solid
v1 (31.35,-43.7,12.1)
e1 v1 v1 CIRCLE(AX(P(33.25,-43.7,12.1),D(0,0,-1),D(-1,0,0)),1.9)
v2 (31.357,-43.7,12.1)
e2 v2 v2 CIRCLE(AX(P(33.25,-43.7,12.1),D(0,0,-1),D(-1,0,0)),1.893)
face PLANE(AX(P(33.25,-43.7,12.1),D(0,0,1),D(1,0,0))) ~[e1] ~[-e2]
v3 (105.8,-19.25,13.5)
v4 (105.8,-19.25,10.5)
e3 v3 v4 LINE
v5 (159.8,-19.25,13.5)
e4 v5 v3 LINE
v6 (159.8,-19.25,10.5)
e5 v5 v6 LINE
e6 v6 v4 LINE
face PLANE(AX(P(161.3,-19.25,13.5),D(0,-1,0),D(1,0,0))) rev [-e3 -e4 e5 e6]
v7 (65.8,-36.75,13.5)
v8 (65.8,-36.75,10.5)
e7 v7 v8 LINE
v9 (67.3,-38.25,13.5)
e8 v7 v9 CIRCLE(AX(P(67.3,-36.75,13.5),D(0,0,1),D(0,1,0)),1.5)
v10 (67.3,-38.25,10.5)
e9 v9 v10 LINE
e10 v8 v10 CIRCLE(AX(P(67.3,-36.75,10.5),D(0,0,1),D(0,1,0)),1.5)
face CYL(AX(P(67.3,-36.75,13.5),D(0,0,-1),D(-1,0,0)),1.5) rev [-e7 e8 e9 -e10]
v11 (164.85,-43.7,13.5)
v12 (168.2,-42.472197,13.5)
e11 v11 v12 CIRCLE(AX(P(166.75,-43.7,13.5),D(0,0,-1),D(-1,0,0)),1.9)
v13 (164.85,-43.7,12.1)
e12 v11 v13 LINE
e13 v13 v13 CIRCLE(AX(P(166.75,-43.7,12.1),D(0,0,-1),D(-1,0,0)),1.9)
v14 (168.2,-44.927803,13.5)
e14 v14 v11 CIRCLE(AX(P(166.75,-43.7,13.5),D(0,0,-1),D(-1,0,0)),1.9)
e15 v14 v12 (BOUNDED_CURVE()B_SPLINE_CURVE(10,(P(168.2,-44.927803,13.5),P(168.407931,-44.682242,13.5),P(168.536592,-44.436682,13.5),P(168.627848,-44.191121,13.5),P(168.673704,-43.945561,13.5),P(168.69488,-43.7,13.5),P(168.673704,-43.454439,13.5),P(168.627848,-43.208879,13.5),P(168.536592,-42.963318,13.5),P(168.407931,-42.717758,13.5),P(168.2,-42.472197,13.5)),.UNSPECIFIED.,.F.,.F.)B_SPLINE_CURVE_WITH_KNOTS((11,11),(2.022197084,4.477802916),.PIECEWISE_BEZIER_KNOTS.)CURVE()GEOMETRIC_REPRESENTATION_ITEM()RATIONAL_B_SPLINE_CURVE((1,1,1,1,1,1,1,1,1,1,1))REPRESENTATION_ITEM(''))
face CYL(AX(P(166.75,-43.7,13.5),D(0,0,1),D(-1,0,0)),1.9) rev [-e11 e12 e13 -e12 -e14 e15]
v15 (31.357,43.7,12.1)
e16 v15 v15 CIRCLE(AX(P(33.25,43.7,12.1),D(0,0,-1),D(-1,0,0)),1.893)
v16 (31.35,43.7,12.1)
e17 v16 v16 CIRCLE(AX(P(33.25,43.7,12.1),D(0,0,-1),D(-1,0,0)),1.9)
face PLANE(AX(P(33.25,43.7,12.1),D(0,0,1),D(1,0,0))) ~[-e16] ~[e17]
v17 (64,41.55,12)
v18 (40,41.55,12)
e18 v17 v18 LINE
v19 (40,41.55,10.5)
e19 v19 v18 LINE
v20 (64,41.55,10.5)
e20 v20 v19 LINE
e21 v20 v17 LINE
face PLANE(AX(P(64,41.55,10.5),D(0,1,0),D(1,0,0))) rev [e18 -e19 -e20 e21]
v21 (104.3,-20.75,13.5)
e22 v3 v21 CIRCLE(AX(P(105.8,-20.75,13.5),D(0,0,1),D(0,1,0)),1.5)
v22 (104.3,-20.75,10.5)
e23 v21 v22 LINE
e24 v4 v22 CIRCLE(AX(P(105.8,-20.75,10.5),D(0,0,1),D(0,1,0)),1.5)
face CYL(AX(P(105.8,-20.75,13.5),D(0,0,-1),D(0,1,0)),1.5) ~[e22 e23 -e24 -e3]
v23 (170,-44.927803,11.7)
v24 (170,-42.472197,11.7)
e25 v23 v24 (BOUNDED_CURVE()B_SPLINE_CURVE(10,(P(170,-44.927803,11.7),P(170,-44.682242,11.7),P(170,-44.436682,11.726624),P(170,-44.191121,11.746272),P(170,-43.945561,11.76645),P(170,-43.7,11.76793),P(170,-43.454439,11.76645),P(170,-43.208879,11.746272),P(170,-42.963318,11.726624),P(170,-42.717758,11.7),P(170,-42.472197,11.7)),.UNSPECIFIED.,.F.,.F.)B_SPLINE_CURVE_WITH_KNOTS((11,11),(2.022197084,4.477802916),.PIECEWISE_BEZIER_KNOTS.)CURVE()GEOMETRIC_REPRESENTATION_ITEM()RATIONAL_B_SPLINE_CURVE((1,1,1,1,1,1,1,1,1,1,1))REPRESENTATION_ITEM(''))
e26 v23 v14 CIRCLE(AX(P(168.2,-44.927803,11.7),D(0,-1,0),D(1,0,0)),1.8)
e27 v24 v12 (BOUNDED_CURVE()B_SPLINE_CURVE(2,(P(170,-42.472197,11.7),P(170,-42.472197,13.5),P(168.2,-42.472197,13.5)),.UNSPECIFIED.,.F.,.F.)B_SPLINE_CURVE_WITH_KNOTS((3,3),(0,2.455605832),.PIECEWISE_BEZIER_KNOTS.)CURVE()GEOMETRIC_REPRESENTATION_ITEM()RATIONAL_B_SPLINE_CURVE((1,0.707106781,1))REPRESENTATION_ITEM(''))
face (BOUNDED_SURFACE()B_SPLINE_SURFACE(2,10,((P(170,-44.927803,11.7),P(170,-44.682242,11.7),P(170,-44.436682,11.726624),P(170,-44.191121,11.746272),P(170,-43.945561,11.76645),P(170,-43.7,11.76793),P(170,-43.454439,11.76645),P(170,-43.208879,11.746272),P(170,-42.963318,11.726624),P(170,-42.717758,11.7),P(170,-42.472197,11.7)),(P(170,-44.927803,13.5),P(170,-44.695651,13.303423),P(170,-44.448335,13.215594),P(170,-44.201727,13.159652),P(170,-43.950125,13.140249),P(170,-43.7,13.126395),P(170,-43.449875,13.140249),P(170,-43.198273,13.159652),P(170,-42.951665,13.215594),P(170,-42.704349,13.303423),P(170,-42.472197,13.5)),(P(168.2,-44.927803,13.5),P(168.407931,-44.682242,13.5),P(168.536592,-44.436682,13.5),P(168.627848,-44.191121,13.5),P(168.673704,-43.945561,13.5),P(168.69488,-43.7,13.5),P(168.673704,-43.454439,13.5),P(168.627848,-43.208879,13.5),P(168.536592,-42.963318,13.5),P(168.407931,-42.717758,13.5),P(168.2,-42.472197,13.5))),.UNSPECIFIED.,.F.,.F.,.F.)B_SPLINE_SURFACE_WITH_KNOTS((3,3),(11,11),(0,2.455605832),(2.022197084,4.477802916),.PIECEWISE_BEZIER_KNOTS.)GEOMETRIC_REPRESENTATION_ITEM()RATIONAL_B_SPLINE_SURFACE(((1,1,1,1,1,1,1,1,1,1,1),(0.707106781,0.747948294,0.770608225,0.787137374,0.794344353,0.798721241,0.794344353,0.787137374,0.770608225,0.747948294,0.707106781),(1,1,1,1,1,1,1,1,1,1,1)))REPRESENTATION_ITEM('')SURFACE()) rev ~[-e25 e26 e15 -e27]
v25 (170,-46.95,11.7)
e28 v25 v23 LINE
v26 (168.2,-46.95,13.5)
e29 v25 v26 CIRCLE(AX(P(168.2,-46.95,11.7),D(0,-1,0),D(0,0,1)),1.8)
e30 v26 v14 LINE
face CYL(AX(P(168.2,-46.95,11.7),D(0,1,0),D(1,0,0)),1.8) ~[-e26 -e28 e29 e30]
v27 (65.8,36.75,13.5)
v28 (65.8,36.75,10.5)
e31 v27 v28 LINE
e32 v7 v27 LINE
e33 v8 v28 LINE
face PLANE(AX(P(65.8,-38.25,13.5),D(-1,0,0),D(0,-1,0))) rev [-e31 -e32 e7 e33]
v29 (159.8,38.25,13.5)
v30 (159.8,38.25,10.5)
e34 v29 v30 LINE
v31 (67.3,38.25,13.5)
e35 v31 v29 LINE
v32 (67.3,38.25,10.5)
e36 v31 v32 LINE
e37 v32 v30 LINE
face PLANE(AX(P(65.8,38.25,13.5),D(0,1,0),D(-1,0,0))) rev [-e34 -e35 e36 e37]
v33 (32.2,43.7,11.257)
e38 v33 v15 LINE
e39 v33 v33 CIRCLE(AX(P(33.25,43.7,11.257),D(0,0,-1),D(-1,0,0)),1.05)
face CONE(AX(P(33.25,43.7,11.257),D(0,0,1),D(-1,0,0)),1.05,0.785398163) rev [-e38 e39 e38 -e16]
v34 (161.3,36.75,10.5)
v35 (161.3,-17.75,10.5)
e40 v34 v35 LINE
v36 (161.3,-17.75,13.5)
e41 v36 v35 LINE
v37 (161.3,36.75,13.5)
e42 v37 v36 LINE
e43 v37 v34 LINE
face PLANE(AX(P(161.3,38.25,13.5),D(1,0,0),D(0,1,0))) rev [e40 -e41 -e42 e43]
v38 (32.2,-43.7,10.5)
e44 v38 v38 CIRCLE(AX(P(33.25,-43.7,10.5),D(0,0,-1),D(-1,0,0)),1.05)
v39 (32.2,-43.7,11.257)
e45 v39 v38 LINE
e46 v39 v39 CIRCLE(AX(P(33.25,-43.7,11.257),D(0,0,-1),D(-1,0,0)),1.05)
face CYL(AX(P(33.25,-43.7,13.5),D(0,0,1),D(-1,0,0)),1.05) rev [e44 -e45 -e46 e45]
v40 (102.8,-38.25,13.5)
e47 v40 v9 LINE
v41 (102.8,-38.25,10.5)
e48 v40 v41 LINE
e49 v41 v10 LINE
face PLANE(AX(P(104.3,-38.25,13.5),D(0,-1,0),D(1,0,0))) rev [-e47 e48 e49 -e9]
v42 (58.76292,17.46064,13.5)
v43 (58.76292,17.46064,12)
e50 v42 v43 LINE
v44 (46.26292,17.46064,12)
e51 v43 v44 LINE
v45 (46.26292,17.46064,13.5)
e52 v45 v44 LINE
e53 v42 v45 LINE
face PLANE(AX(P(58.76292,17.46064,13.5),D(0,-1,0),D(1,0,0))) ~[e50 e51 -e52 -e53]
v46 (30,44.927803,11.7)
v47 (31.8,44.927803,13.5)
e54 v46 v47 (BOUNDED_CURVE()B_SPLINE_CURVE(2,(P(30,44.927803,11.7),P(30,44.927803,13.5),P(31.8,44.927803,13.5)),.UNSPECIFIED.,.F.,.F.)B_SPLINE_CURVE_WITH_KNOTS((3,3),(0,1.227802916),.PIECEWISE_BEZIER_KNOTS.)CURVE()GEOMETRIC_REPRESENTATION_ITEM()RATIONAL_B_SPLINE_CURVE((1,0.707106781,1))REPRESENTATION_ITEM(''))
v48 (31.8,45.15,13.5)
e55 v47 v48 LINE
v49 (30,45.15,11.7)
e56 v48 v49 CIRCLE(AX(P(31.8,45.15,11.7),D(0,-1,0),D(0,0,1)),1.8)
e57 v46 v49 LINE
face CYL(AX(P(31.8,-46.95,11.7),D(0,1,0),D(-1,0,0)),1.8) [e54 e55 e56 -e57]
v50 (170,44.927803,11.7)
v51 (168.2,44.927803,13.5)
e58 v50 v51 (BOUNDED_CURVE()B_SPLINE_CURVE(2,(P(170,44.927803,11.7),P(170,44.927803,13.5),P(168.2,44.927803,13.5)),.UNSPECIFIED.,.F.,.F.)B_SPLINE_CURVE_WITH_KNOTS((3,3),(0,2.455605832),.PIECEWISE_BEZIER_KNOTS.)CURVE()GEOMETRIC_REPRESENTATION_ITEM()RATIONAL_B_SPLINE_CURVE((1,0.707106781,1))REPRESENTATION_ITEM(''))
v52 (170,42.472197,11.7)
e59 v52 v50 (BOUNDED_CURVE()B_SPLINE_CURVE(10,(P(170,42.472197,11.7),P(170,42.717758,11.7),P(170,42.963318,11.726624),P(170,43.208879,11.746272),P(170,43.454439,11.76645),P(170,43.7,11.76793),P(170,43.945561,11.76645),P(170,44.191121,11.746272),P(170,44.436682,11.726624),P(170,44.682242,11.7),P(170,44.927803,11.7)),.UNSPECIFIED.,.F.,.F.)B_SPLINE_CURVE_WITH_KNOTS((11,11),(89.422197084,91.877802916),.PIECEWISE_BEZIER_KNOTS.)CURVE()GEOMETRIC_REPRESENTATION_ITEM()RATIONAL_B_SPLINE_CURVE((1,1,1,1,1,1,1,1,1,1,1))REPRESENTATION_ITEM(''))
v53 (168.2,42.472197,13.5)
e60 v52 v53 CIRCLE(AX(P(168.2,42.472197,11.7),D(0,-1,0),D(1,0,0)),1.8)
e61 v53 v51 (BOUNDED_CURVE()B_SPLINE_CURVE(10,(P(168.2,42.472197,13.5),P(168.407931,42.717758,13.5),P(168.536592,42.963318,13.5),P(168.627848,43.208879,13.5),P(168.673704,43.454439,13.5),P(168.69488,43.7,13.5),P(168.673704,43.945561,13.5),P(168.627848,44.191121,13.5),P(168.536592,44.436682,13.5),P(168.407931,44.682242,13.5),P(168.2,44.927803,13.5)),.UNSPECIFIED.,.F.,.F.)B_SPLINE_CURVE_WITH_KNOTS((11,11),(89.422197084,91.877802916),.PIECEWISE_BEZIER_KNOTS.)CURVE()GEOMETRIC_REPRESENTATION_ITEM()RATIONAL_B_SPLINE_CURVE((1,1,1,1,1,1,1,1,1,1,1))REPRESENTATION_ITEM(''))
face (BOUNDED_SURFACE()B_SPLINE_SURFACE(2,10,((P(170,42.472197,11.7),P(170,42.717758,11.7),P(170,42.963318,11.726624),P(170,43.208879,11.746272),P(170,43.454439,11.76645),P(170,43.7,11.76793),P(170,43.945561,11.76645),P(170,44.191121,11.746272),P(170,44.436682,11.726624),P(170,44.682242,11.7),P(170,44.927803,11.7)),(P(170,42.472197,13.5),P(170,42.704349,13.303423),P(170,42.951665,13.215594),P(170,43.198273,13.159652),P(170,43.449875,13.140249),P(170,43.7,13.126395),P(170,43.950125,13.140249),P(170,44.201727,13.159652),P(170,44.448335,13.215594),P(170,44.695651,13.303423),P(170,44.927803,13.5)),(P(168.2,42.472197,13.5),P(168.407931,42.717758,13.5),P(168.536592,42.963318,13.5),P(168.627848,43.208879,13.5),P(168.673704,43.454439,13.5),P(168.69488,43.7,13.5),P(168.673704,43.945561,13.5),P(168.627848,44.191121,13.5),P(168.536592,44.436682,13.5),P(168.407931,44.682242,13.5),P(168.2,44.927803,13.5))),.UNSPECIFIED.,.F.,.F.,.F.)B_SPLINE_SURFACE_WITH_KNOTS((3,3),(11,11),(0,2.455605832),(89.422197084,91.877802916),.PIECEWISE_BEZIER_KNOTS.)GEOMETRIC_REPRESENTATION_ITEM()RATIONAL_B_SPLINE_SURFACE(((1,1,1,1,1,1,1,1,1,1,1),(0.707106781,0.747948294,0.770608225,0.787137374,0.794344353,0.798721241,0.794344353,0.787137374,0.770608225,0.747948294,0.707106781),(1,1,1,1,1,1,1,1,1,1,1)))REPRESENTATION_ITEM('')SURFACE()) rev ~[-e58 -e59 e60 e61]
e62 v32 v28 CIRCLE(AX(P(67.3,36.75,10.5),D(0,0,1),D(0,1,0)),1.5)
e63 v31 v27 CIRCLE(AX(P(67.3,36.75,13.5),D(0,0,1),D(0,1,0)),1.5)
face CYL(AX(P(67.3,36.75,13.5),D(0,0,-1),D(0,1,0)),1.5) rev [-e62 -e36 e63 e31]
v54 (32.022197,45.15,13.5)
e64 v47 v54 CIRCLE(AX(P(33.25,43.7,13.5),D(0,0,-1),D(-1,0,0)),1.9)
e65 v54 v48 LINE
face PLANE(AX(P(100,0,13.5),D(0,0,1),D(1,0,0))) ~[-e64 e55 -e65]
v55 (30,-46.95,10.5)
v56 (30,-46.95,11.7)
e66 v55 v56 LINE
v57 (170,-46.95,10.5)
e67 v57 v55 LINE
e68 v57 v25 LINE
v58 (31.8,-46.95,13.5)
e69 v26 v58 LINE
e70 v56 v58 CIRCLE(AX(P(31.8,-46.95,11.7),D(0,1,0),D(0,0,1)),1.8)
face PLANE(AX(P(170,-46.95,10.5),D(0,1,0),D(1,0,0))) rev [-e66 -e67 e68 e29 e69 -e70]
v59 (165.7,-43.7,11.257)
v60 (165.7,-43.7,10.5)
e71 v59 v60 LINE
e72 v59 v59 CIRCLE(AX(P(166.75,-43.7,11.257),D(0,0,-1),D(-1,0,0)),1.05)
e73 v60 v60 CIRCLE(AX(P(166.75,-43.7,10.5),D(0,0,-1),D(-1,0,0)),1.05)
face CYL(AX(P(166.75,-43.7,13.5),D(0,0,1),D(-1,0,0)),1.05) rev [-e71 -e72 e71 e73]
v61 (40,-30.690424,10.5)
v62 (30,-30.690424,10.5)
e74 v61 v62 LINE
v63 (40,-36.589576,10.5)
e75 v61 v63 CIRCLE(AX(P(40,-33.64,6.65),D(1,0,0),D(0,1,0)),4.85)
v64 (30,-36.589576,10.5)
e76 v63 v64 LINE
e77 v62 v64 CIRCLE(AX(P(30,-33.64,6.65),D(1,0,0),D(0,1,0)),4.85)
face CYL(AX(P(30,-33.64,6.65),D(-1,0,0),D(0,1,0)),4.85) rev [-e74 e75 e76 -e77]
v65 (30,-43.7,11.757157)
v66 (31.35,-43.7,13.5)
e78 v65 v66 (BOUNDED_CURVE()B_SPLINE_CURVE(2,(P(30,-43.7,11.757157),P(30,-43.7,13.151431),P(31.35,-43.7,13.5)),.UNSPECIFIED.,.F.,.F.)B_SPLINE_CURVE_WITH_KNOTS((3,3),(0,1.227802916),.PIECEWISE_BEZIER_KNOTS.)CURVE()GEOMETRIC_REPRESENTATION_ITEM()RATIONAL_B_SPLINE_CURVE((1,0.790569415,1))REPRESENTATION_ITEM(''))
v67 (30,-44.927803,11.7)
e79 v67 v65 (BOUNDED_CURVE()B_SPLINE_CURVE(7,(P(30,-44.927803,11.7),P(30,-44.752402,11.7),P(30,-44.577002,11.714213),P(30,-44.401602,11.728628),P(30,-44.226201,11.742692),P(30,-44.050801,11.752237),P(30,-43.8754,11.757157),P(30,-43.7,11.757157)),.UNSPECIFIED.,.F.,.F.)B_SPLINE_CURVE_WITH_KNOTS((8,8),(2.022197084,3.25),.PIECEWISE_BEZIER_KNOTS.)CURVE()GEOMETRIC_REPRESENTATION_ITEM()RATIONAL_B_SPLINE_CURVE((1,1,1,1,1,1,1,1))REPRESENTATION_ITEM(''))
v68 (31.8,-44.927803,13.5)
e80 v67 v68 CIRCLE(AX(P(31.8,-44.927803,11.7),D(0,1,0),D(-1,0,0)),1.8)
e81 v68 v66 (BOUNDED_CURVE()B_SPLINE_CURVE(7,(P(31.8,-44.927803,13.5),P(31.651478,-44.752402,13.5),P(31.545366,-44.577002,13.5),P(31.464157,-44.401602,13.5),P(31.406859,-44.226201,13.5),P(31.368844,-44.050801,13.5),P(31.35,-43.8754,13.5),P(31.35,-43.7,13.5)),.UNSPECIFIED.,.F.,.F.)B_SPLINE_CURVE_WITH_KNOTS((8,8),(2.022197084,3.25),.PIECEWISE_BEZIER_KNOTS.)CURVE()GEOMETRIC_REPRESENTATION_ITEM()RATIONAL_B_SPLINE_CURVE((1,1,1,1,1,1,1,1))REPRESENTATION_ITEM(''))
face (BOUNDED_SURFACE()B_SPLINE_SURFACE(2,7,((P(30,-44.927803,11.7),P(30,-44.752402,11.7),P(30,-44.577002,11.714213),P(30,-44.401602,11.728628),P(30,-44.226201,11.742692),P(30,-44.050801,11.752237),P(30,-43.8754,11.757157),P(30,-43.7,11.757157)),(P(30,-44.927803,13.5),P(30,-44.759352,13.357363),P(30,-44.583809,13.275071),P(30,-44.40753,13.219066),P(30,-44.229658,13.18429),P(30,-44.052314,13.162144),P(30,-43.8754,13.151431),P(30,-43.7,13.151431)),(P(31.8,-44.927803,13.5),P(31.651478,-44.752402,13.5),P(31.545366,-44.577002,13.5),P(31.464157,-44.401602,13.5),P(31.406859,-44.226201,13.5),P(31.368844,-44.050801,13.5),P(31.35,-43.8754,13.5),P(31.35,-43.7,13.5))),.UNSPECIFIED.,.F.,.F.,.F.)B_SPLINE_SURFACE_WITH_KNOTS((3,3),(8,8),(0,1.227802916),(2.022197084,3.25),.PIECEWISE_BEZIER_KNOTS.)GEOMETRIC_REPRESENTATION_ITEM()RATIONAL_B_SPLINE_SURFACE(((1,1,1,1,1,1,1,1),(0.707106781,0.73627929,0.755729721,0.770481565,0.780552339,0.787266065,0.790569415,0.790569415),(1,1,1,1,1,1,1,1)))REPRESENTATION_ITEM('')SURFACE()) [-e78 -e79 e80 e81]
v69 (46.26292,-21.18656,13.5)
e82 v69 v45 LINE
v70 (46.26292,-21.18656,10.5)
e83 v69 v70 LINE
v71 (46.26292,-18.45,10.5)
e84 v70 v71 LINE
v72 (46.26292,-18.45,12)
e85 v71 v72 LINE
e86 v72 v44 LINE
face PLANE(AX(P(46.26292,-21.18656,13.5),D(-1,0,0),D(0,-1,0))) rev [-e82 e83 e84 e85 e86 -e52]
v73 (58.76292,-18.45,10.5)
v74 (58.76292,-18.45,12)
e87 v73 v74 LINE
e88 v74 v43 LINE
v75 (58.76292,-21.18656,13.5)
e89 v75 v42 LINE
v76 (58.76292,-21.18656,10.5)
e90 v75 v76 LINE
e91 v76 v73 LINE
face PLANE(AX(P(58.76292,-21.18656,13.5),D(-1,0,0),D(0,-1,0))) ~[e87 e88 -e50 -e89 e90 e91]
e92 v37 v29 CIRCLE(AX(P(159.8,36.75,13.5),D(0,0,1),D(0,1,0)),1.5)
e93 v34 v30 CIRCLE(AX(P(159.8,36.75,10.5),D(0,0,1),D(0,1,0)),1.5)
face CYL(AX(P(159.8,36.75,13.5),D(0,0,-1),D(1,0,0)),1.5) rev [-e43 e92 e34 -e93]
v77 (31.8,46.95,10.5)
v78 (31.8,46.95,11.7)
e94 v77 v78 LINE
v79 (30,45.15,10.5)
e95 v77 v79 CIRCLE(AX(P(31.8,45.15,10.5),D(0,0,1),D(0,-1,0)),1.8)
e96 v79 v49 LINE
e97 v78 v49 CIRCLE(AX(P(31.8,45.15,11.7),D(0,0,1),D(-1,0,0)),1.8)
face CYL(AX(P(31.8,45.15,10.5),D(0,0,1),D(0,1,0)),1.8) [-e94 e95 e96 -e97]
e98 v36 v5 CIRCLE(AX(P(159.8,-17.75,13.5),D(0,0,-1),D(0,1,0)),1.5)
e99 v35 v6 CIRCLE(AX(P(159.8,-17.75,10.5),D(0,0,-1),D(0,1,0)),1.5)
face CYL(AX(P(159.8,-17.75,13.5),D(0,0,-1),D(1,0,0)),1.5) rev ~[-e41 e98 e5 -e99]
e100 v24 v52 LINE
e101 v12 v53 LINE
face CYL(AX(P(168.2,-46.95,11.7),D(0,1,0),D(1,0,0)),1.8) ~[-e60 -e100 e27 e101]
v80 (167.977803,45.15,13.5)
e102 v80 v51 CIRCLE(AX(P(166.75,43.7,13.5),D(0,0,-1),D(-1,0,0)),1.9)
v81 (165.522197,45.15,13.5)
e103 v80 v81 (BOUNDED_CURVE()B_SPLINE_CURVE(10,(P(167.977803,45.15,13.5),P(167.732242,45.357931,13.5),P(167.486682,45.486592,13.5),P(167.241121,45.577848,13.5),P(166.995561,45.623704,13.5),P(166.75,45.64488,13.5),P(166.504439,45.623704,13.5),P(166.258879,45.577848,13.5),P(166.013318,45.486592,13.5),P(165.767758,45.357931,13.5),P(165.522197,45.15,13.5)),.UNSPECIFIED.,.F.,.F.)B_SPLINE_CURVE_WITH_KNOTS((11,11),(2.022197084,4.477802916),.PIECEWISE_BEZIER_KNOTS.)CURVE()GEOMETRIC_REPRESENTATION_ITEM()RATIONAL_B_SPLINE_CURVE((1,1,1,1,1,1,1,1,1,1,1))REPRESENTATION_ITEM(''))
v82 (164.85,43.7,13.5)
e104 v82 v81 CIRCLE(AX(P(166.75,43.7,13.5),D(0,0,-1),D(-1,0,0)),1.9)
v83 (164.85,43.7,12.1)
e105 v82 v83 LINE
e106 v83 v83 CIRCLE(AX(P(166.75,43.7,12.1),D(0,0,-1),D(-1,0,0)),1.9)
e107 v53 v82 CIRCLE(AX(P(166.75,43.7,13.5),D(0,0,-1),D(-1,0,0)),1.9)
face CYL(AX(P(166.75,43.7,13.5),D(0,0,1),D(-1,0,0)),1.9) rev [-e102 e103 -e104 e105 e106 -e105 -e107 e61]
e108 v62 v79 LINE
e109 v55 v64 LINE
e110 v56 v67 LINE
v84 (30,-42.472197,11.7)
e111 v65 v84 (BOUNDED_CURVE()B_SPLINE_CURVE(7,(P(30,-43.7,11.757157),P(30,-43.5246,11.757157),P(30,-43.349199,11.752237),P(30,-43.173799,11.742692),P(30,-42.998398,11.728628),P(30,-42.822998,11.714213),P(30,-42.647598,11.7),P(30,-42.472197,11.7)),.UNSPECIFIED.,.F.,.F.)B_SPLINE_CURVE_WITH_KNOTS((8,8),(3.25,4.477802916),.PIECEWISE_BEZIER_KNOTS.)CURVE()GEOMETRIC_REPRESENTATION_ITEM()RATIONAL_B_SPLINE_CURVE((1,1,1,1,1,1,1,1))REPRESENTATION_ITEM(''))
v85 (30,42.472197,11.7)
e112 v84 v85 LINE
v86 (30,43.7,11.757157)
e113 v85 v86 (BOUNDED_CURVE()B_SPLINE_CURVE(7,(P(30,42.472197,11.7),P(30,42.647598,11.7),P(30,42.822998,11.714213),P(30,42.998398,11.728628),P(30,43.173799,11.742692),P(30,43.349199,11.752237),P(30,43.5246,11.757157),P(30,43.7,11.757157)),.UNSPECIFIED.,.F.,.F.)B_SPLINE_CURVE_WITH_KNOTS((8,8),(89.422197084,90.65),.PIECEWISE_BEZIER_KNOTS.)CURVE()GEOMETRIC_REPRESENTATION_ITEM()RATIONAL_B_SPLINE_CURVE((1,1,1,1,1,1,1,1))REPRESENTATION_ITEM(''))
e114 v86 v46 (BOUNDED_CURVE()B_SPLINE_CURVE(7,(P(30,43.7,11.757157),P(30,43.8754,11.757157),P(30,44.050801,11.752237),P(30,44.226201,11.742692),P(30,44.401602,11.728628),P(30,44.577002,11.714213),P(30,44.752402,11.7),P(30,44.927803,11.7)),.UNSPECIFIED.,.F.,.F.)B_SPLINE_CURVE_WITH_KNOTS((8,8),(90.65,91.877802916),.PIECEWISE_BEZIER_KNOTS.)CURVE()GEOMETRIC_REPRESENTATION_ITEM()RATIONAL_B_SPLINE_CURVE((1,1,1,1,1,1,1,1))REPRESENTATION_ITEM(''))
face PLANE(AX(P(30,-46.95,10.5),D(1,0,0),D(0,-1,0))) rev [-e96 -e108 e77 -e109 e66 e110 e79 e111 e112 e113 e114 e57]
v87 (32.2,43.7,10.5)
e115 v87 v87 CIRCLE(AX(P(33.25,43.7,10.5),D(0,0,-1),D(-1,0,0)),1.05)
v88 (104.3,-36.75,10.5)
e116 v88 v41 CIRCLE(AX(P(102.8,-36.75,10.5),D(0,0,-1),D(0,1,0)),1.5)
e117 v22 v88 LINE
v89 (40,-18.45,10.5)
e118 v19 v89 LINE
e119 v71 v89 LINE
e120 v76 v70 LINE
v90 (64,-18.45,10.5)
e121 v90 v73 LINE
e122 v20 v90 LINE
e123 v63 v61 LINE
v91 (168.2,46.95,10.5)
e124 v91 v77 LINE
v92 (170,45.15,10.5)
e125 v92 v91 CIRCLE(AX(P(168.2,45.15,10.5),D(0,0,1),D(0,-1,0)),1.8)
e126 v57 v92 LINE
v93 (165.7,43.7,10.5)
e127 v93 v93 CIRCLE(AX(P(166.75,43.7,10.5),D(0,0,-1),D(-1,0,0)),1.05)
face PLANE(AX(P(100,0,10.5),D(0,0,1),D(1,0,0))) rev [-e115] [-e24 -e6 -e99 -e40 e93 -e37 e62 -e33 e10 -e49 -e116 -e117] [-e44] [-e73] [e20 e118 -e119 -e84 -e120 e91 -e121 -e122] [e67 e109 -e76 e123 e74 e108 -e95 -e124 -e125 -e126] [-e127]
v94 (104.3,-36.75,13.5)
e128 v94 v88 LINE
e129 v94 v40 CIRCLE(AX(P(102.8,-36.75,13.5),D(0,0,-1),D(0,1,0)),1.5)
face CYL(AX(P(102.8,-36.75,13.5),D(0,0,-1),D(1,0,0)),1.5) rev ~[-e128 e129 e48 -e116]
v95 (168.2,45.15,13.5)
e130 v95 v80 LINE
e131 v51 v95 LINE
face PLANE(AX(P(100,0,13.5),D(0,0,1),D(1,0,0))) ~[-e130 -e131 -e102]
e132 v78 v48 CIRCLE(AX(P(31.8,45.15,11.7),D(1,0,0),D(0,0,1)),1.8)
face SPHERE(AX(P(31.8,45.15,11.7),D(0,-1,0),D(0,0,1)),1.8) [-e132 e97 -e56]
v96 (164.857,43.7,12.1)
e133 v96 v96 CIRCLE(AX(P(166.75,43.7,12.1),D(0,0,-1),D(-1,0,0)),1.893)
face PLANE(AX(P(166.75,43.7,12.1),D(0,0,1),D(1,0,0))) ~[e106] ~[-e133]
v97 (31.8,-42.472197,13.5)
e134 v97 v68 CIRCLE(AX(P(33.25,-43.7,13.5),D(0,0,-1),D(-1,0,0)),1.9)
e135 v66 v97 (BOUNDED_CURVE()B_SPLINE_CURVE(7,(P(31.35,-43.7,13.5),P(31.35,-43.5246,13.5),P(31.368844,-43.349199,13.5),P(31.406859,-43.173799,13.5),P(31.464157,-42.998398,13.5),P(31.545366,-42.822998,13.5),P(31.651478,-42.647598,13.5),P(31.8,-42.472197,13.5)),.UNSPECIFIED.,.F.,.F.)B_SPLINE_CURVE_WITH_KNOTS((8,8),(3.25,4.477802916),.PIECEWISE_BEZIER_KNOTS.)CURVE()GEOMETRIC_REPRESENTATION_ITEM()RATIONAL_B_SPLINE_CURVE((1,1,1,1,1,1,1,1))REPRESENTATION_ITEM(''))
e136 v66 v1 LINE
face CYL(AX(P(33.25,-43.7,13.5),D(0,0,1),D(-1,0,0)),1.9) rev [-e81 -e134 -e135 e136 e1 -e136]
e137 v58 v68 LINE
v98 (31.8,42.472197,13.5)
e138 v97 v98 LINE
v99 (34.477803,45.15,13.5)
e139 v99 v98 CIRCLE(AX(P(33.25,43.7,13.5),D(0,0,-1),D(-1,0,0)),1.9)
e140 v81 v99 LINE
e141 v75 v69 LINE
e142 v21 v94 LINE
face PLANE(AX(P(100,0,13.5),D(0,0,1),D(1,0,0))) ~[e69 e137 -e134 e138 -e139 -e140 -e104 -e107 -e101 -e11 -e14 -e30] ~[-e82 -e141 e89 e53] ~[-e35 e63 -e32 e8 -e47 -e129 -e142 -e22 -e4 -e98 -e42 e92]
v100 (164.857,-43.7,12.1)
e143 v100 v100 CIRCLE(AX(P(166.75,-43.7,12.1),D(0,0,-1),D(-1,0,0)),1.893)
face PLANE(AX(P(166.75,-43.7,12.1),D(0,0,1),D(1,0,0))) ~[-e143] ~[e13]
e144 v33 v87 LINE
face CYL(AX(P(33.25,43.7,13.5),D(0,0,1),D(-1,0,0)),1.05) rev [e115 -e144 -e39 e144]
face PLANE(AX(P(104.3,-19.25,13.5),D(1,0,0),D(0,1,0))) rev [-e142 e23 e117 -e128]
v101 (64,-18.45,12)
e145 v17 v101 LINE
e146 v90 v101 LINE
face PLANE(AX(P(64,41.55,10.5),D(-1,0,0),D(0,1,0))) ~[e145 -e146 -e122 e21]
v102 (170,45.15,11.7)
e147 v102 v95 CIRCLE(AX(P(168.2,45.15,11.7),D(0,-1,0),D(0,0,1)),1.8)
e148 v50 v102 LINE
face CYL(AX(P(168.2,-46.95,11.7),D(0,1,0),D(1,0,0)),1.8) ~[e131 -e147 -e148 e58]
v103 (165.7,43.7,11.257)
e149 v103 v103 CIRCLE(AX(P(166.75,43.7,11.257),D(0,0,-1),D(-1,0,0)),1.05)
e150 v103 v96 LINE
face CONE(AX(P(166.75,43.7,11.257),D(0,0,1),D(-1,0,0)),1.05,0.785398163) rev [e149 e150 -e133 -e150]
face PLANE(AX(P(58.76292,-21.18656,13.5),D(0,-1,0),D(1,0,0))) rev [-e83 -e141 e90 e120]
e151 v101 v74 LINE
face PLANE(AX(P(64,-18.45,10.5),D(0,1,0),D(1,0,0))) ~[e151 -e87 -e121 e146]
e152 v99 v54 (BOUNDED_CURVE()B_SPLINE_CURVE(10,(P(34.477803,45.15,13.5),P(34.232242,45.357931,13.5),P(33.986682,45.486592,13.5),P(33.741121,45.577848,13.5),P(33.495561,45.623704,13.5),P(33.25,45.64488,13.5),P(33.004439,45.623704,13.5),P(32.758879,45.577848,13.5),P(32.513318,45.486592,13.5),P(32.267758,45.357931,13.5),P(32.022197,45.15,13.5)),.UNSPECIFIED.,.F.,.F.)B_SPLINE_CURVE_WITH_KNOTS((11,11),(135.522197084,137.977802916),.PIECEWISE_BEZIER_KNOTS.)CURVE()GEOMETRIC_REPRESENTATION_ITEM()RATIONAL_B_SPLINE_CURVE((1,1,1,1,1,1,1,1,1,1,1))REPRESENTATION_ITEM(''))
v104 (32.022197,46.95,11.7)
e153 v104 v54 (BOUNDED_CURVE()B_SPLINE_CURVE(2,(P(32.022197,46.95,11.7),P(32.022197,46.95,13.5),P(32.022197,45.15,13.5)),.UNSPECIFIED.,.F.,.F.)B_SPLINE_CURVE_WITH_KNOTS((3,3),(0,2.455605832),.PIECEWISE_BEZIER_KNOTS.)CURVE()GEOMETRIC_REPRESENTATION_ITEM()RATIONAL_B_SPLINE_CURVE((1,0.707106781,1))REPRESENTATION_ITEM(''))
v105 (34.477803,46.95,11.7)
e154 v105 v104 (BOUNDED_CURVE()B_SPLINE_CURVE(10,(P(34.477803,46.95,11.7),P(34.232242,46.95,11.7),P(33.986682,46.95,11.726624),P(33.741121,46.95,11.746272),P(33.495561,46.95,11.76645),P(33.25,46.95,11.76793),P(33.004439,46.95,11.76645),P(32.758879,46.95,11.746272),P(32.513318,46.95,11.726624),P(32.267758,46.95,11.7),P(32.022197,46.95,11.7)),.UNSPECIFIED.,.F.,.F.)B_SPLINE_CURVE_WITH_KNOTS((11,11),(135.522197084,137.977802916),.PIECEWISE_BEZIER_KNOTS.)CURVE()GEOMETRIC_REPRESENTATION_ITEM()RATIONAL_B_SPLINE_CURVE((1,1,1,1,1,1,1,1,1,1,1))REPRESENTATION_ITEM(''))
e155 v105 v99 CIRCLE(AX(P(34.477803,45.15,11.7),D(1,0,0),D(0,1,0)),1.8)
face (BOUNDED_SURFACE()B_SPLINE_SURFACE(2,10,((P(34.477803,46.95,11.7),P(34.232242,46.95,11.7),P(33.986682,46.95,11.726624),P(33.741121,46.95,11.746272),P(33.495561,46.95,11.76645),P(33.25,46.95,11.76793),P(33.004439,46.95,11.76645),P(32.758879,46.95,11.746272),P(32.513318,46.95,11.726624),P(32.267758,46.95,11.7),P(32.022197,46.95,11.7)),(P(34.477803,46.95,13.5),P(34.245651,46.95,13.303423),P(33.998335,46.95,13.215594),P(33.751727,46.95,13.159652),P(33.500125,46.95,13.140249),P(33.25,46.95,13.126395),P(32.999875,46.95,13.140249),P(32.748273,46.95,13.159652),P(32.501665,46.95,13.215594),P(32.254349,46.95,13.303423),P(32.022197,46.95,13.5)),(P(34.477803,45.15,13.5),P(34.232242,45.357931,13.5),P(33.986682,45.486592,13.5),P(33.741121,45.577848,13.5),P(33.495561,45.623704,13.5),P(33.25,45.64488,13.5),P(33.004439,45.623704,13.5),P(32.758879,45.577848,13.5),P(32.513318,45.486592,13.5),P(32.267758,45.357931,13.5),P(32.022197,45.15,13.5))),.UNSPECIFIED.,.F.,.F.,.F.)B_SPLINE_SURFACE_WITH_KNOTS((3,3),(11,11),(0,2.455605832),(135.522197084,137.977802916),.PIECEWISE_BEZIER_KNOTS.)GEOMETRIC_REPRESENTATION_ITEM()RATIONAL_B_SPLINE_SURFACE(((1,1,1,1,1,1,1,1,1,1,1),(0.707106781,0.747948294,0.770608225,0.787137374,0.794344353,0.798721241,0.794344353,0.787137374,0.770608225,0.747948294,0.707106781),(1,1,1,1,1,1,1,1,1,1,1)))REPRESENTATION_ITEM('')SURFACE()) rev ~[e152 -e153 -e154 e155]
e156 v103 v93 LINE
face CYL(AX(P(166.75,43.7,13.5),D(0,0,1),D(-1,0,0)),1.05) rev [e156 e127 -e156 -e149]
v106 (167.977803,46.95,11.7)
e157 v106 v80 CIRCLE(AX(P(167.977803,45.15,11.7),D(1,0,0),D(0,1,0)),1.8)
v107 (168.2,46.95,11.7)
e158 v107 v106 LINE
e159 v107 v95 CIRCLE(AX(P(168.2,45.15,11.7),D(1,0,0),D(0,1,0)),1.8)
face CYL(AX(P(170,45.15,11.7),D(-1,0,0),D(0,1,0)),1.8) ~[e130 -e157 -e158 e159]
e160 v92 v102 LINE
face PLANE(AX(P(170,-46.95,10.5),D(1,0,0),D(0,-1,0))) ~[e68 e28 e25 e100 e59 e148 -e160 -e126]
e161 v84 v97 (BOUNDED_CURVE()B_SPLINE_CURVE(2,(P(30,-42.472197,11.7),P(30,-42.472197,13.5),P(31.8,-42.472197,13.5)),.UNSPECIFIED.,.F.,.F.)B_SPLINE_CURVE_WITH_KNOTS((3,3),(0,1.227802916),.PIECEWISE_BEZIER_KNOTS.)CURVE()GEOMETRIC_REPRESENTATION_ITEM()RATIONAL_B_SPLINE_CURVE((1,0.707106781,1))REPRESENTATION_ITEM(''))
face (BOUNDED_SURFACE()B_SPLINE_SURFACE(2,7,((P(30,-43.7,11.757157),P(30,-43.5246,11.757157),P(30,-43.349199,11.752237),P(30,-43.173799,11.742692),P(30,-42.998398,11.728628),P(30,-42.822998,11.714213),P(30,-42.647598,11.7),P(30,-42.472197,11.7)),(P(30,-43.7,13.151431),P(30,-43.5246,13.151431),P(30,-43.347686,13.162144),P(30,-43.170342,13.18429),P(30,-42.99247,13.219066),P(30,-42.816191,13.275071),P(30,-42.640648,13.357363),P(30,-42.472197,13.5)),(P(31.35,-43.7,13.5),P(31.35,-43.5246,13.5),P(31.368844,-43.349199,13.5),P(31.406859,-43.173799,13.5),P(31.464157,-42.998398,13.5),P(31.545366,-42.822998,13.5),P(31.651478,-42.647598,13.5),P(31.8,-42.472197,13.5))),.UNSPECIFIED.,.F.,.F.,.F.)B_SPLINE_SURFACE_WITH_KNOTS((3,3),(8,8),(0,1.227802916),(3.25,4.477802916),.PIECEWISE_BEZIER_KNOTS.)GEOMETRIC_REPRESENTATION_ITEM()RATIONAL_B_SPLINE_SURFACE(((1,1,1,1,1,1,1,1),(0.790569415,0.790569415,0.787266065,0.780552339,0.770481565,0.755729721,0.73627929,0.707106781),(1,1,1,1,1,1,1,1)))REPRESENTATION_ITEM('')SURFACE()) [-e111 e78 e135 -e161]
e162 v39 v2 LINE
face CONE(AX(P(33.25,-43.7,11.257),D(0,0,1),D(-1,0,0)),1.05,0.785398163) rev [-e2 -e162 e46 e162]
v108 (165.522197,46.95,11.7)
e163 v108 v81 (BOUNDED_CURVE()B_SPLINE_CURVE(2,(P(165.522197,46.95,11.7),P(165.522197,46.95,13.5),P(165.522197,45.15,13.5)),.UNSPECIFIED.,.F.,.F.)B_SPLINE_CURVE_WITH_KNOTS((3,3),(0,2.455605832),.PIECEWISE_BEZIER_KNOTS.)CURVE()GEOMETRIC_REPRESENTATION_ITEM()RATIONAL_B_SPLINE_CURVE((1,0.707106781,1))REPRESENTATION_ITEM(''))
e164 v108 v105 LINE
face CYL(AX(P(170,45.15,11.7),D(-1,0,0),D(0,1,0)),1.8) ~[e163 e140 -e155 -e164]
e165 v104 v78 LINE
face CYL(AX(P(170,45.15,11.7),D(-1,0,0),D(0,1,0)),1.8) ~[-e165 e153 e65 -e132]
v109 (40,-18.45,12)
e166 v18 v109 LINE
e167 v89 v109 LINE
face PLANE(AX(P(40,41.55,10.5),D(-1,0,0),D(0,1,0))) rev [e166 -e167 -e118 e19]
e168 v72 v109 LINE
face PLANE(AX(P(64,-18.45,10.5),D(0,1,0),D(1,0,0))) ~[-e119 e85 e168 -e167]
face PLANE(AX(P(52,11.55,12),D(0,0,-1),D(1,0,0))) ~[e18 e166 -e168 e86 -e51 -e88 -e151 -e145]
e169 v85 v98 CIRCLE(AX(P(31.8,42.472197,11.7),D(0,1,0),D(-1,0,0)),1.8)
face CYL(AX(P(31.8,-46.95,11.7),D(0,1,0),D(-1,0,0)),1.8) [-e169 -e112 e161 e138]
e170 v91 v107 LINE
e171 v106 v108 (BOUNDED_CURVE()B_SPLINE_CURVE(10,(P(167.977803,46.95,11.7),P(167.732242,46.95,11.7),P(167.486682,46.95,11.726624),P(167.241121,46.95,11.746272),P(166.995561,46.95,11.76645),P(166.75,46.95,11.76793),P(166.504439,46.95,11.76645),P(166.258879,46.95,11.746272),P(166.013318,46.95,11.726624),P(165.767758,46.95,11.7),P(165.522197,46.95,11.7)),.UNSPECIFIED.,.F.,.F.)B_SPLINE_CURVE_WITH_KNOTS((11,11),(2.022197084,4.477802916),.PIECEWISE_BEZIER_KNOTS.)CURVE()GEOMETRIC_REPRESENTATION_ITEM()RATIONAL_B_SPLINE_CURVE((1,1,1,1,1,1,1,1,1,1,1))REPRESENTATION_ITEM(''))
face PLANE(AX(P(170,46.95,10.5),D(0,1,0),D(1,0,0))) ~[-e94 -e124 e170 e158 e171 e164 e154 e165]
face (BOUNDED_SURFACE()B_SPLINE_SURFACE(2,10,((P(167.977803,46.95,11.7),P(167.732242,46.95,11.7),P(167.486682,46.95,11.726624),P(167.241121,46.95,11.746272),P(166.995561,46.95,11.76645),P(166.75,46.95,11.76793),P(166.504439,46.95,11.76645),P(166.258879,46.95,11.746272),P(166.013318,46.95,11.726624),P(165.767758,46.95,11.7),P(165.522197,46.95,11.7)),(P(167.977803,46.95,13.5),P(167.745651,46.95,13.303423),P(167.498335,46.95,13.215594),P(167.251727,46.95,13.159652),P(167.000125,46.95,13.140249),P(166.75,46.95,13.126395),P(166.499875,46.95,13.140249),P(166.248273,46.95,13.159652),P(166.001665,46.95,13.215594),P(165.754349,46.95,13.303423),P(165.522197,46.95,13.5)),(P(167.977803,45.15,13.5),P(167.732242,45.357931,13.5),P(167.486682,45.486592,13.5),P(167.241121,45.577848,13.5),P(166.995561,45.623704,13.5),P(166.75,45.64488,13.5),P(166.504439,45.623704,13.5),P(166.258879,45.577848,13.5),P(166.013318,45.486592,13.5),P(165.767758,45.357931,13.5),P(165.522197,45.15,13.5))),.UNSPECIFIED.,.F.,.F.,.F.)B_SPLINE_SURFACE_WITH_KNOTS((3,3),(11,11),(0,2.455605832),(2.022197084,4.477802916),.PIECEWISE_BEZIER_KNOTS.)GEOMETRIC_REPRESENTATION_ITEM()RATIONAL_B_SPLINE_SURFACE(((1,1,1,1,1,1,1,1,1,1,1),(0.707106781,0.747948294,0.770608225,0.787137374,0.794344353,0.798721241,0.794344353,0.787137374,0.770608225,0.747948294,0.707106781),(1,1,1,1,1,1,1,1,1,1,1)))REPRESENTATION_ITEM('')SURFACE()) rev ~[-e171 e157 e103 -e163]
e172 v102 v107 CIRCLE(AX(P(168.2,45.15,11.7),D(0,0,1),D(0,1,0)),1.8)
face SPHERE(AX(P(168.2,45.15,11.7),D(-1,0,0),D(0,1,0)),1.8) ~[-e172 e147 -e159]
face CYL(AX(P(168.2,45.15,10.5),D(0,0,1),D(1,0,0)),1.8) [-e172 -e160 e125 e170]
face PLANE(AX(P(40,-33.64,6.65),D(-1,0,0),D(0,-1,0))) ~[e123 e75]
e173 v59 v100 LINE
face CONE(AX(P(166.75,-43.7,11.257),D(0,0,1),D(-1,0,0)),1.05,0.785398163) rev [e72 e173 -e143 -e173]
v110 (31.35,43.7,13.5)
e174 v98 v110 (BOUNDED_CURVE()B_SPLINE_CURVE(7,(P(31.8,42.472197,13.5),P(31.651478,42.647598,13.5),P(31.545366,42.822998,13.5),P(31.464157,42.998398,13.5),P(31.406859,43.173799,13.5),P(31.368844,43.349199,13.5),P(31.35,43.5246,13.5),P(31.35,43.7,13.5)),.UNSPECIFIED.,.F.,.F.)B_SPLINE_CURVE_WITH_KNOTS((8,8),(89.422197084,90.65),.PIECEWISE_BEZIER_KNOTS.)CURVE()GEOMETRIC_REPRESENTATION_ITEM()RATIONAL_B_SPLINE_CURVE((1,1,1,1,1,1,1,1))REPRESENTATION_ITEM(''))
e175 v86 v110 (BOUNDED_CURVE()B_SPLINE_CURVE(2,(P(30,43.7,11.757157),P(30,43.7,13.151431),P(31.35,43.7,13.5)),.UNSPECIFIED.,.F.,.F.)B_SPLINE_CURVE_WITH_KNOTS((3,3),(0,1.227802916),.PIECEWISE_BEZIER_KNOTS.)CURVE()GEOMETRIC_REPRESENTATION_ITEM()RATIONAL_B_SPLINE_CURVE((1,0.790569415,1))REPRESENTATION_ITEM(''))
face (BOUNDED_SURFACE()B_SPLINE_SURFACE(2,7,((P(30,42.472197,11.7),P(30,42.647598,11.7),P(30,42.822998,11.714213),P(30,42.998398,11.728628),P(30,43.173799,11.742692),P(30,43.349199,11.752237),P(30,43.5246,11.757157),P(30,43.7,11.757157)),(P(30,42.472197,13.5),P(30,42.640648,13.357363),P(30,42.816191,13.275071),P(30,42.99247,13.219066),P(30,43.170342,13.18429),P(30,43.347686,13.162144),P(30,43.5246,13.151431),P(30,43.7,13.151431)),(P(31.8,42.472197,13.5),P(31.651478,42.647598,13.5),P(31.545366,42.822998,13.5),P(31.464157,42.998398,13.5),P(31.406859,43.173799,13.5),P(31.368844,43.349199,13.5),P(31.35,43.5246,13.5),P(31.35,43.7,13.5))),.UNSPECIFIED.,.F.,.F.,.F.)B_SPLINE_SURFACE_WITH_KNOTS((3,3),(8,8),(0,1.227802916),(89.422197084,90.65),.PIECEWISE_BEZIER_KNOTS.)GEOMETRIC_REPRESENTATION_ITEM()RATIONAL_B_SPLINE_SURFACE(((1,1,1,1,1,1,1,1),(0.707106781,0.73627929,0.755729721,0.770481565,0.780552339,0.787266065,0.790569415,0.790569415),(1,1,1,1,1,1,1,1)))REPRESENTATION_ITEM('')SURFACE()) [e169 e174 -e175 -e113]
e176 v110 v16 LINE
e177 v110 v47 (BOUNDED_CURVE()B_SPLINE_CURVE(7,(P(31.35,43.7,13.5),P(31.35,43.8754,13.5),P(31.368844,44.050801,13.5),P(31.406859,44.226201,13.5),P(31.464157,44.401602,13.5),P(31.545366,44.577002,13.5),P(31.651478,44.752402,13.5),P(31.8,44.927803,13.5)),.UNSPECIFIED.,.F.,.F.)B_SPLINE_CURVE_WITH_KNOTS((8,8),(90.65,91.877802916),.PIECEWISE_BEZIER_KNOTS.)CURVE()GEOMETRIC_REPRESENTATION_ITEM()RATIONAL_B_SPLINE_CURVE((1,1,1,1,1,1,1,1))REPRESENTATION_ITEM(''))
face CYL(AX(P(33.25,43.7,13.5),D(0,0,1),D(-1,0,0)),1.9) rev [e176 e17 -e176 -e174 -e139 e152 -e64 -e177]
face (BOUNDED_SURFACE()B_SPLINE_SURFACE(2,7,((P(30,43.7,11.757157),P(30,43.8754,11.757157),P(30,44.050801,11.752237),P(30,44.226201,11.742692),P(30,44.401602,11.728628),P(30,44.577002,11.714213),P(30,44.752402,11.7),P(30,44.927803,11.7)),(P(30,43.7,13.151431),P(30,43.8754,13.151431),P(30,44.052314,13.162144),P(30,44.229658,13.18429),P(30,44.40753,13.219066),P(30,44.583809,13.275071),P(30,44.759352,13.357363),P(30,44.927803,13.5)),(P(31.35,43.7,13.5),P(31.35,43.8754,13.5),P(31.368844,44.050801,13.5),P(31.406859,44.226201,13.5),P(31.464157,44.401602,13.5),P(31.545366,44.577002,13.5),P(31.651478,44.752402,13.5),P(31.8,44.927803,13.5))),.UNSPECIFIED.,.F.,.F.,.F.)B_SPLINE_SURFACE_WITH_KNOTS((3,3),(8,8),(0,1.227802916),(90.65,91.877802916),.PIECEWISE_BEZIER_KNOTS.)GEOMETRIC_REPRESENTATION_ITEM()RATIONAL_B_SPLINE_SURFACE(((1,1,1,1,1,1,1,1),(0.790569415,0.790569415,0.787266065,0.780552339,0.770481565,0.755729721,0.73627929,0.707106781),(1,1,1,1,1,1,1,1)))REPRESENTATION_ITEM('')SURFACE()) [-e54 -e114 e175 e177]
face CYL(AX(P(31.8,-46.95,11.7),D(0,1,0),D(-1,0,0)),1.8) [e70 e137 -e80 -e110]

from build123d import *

# Parameters (mm, degrees)
SKETCH057_W                       = 140
SKETCH057_H                       = 93.9
PAD006_DEPTH                      = 3
SKETCH058_W                       = 12.5
SKETCH058_H                       = 38.6472
POCKET043_DEPTH                   = 3
SKETCH059_W                       = 24
SKETCH059_H                       = 60
POCKET044_DEPTH                   = 1.5
SKETCH060_R                       = 1.05
POCKET045_DEPTH                   = 3.001
SKETCH061_R                       = 1.9
POCKET046_DEPTH                   = 1.4
CHAMFER002_1_ANGLE                = 45
CHAMFER002_1_SIZE                 = 0.843
CHAMFER002_2_ANGLE                = 45
CHAMFER002_2_SIZE                 = 0.843
CHAMFER002_3_ANGLE                = 45
CHAMFER002_3_SIZE                 = 0.843
CHAMFER002_4_ANGLE                = 45
CHAMFER002_4_SIZE                 = 0.843
FILLET007_R                       = 1.5
SKETCH062_R                       = 4.85
POCKET047_DEPTH                   = 10
FILLET008_R                       = 1.8
BODY005_PLACEMENT_ANGLE           = 180
PART_MIRRORING001_PLACEMENT_ANGLE = 180


with BuildPart() as top002:
    # Sketch057 (on XY_Plane154 of Origin626) → Pad006 (new body)
    with BuildSketch(Plane.XY):
        Rectangle(SKETCH057_W, SKETCH057_H)
    extrude(amount=PAD006_DEPTH)

    # Sketch058 (on Face6 of Pad006) → Pocket043 (cut)
    with BuildSketch(Plane.XY.offset(3)):
        Polygon((-61.3, 38.25), (-61.3, -19.25), (-4.3, -19.25), (-4.3, -38.25), (34.2, -38.25), (34.2, 38.25), align=None)
        with Locations((47.48708, -1.86296)):
            Rectangle(SKETCH058_W, SKETCH058_H)
    extrude(amount=-POCKET043_DEPTH, mode=Mode.SUBTRACT)

    # Sketch059 (on Face4 of Pocket043) → Pocket044 (cut)
    with BuildSketch(Plane(origin=(0, 0, 0), x_dir=(1, 0, 0), z_dir=(0, 0, -1))):
        with Locations((48, -11.55)):
            Rectangle(SKETCH059_W, SKETCH059_H)
    extrude(amount=-POCKET044_DEPTH, mode=Mode.SUBTRACT)

    # Sketch060 (on Face5 of Pocket044) → Pocket045 (cut, through all)
    with BuildSketch(Plane.XY.offset(3)):
        with Locations((66.75, 43.7)):
            Circle(SKETCH060_R)
        with Locations((66.75, -43.7)):
            Circle(SKETCH060_R)
        with Locations((-66.75, -43.7)):
            Circle(SKETCH060_R)
        with Locations((-66.75, 43.7)):
            Circle(SKETCH060_R)
    extrude(amount=-POCKET045_DEPTH, mode=Mode.SUBTRACT)

    # Sketch061 (on Face5 of Pocket045) → Pocket046 (cut)
    with BuildSketch(Plane.XY.offset(3)):
        with Locations((-66.75, 43.7)):
            Circle(SKETCH061_R)
        with Locations((66.75, 43.7)):
            Circle(SKETCH061_R)
        with Locations((-66.75, -43.7)):
            Circle(SKETCH061_R)
        with Locations((66.75, -43.7)):
            Circle(SKETCH061_R)
    extrude(amount=-POCKET046_DEPTH, mode=Mode.SUBTRACT)

    # Chamfer002 1
    chamfer002_1_edges = [top002.edges().sort_by_distance(p)[0] for p in [
        (-67.8, 43.7, 1.6),
    ]]
    chamfer002_1_side = top002.faces().sort_by_distance((-67.8, 43.7, 0.8))[0]
    chamfer(chamfer002_1_edges, length=CHAMFER002_1_SIZE, angle=CHAMFER002_1_ANGLE, reference=chamfer002_1_side)

    # Chamfer002 2
    chamfer002_2_edges = [top002.edges().sort_by_distance(p)[0] for p in [
        (65.7, -43.7, 1.6),
    ]]
    chamfer002_2_side = top002.faces().sort_by_distance((65.7, -43.7, 0.8))[0]
    chamfer(chamfer002_2_edges, length=CHAMFER002_2_SIZE, angle=CHAMFER002_2_ANGLE, reference=chamfer002_2_side)

    # Chamfer002 3
    chamfer002_3_edges = [top002.edges().sort_by_distance(p)[0] for p in [
        (-67.8, -43.7, 1.6),
    ]]
    chamfer002_3_side = top002.faces().sort_by_distance((-67.8, -43.7, 0.8))[0]
    chamfer(chamfer002_3_edges, length=CHAMFER002_3_SIZE, angle=CHAMFER002_3_ANGLE, reference=chamfer002_3_side)

    # Chamfer002 4
    chamfer002_4_edges = [top002.edges().sort_by_distance(p)[0] for p in [
        (65.7, 43.7, 1.6),
    ]]
    chamfer002_4_side = top002.faces().sort_by_distance((65.7, 43.7, 0.8))[0]
    chamfer(chamfer002_4_edges, length=CHAMFER002_4_SIZE, angle=CHAMFER002_4_ANGLE, reference=chamfer002_4_side)

    # Fillet007
    fillet007_edges = [top002.edges().sort_by_distance(p)[0] for p in [
        (-4.3, -38.25, 1.5),
        (34.2, -38.25, 1.5),
        (34.2, 38.25, 1.5),
        (-61.3, 38.25, 1.5),
        (-61.3, -19.25, 1.5),
        (-4.3, -19.25, 1.5),
    ]]
    fillet(fillet007_edges, radius=FILLET007_R)

    # Sketch062 (on Face16 of Fillet007) → Pocket047 (cut)
    with BuildSketch(Plane.YZ.offset(70)):
        with Locations((-33.64, -3.85)):
            Circle(SKETCH062_R)
    extrude(amount=-POCKET047_DEPTH, mode=Mode.SUBTRACT)

    # Fillet008
    fillet008_edges = [top002.edges().sort_by_distance(p)[0] for p in [
        (70, 0, 3),
        (0, 46.95, 3),
        (70, 46.95, 1.5),
        (-70, 46.95, 1.5),
        (-70, 0, 3),
    ]]
    fillet(fillet008_edges, radius=FILLET008_R)


with BuildPart() as top002_1:
    # Body005 placement: moved
    add(top002.part.moved(Location((150, 0, 2.9))).rotate(Axis((150, 0, 2.9), (0, 1, 0)), BODY005_PLACEMENT_ANGLE))


with BuildPart() as part_mirroring001:
    # Part__Mirroring001: instance of Top002
    add(top002_1.part.mirror(Plane(origin=(0, 0, 0), x_dir=(0, -1, 0), z_dir=(1, 0, 0))))


with BuildPart() as part_mirroring001_1:
    # Part__Mirroring001 placement: moved
    add(part_mirroring001.part.moved(Location((-50, 0, 13.4))).rotate(Axis((-50, 0, 13.4), (0, 1, 0)), PART_MIRRORING001_PLACEMENT_ANGLE))


solid = part_mirroring001_1.part
